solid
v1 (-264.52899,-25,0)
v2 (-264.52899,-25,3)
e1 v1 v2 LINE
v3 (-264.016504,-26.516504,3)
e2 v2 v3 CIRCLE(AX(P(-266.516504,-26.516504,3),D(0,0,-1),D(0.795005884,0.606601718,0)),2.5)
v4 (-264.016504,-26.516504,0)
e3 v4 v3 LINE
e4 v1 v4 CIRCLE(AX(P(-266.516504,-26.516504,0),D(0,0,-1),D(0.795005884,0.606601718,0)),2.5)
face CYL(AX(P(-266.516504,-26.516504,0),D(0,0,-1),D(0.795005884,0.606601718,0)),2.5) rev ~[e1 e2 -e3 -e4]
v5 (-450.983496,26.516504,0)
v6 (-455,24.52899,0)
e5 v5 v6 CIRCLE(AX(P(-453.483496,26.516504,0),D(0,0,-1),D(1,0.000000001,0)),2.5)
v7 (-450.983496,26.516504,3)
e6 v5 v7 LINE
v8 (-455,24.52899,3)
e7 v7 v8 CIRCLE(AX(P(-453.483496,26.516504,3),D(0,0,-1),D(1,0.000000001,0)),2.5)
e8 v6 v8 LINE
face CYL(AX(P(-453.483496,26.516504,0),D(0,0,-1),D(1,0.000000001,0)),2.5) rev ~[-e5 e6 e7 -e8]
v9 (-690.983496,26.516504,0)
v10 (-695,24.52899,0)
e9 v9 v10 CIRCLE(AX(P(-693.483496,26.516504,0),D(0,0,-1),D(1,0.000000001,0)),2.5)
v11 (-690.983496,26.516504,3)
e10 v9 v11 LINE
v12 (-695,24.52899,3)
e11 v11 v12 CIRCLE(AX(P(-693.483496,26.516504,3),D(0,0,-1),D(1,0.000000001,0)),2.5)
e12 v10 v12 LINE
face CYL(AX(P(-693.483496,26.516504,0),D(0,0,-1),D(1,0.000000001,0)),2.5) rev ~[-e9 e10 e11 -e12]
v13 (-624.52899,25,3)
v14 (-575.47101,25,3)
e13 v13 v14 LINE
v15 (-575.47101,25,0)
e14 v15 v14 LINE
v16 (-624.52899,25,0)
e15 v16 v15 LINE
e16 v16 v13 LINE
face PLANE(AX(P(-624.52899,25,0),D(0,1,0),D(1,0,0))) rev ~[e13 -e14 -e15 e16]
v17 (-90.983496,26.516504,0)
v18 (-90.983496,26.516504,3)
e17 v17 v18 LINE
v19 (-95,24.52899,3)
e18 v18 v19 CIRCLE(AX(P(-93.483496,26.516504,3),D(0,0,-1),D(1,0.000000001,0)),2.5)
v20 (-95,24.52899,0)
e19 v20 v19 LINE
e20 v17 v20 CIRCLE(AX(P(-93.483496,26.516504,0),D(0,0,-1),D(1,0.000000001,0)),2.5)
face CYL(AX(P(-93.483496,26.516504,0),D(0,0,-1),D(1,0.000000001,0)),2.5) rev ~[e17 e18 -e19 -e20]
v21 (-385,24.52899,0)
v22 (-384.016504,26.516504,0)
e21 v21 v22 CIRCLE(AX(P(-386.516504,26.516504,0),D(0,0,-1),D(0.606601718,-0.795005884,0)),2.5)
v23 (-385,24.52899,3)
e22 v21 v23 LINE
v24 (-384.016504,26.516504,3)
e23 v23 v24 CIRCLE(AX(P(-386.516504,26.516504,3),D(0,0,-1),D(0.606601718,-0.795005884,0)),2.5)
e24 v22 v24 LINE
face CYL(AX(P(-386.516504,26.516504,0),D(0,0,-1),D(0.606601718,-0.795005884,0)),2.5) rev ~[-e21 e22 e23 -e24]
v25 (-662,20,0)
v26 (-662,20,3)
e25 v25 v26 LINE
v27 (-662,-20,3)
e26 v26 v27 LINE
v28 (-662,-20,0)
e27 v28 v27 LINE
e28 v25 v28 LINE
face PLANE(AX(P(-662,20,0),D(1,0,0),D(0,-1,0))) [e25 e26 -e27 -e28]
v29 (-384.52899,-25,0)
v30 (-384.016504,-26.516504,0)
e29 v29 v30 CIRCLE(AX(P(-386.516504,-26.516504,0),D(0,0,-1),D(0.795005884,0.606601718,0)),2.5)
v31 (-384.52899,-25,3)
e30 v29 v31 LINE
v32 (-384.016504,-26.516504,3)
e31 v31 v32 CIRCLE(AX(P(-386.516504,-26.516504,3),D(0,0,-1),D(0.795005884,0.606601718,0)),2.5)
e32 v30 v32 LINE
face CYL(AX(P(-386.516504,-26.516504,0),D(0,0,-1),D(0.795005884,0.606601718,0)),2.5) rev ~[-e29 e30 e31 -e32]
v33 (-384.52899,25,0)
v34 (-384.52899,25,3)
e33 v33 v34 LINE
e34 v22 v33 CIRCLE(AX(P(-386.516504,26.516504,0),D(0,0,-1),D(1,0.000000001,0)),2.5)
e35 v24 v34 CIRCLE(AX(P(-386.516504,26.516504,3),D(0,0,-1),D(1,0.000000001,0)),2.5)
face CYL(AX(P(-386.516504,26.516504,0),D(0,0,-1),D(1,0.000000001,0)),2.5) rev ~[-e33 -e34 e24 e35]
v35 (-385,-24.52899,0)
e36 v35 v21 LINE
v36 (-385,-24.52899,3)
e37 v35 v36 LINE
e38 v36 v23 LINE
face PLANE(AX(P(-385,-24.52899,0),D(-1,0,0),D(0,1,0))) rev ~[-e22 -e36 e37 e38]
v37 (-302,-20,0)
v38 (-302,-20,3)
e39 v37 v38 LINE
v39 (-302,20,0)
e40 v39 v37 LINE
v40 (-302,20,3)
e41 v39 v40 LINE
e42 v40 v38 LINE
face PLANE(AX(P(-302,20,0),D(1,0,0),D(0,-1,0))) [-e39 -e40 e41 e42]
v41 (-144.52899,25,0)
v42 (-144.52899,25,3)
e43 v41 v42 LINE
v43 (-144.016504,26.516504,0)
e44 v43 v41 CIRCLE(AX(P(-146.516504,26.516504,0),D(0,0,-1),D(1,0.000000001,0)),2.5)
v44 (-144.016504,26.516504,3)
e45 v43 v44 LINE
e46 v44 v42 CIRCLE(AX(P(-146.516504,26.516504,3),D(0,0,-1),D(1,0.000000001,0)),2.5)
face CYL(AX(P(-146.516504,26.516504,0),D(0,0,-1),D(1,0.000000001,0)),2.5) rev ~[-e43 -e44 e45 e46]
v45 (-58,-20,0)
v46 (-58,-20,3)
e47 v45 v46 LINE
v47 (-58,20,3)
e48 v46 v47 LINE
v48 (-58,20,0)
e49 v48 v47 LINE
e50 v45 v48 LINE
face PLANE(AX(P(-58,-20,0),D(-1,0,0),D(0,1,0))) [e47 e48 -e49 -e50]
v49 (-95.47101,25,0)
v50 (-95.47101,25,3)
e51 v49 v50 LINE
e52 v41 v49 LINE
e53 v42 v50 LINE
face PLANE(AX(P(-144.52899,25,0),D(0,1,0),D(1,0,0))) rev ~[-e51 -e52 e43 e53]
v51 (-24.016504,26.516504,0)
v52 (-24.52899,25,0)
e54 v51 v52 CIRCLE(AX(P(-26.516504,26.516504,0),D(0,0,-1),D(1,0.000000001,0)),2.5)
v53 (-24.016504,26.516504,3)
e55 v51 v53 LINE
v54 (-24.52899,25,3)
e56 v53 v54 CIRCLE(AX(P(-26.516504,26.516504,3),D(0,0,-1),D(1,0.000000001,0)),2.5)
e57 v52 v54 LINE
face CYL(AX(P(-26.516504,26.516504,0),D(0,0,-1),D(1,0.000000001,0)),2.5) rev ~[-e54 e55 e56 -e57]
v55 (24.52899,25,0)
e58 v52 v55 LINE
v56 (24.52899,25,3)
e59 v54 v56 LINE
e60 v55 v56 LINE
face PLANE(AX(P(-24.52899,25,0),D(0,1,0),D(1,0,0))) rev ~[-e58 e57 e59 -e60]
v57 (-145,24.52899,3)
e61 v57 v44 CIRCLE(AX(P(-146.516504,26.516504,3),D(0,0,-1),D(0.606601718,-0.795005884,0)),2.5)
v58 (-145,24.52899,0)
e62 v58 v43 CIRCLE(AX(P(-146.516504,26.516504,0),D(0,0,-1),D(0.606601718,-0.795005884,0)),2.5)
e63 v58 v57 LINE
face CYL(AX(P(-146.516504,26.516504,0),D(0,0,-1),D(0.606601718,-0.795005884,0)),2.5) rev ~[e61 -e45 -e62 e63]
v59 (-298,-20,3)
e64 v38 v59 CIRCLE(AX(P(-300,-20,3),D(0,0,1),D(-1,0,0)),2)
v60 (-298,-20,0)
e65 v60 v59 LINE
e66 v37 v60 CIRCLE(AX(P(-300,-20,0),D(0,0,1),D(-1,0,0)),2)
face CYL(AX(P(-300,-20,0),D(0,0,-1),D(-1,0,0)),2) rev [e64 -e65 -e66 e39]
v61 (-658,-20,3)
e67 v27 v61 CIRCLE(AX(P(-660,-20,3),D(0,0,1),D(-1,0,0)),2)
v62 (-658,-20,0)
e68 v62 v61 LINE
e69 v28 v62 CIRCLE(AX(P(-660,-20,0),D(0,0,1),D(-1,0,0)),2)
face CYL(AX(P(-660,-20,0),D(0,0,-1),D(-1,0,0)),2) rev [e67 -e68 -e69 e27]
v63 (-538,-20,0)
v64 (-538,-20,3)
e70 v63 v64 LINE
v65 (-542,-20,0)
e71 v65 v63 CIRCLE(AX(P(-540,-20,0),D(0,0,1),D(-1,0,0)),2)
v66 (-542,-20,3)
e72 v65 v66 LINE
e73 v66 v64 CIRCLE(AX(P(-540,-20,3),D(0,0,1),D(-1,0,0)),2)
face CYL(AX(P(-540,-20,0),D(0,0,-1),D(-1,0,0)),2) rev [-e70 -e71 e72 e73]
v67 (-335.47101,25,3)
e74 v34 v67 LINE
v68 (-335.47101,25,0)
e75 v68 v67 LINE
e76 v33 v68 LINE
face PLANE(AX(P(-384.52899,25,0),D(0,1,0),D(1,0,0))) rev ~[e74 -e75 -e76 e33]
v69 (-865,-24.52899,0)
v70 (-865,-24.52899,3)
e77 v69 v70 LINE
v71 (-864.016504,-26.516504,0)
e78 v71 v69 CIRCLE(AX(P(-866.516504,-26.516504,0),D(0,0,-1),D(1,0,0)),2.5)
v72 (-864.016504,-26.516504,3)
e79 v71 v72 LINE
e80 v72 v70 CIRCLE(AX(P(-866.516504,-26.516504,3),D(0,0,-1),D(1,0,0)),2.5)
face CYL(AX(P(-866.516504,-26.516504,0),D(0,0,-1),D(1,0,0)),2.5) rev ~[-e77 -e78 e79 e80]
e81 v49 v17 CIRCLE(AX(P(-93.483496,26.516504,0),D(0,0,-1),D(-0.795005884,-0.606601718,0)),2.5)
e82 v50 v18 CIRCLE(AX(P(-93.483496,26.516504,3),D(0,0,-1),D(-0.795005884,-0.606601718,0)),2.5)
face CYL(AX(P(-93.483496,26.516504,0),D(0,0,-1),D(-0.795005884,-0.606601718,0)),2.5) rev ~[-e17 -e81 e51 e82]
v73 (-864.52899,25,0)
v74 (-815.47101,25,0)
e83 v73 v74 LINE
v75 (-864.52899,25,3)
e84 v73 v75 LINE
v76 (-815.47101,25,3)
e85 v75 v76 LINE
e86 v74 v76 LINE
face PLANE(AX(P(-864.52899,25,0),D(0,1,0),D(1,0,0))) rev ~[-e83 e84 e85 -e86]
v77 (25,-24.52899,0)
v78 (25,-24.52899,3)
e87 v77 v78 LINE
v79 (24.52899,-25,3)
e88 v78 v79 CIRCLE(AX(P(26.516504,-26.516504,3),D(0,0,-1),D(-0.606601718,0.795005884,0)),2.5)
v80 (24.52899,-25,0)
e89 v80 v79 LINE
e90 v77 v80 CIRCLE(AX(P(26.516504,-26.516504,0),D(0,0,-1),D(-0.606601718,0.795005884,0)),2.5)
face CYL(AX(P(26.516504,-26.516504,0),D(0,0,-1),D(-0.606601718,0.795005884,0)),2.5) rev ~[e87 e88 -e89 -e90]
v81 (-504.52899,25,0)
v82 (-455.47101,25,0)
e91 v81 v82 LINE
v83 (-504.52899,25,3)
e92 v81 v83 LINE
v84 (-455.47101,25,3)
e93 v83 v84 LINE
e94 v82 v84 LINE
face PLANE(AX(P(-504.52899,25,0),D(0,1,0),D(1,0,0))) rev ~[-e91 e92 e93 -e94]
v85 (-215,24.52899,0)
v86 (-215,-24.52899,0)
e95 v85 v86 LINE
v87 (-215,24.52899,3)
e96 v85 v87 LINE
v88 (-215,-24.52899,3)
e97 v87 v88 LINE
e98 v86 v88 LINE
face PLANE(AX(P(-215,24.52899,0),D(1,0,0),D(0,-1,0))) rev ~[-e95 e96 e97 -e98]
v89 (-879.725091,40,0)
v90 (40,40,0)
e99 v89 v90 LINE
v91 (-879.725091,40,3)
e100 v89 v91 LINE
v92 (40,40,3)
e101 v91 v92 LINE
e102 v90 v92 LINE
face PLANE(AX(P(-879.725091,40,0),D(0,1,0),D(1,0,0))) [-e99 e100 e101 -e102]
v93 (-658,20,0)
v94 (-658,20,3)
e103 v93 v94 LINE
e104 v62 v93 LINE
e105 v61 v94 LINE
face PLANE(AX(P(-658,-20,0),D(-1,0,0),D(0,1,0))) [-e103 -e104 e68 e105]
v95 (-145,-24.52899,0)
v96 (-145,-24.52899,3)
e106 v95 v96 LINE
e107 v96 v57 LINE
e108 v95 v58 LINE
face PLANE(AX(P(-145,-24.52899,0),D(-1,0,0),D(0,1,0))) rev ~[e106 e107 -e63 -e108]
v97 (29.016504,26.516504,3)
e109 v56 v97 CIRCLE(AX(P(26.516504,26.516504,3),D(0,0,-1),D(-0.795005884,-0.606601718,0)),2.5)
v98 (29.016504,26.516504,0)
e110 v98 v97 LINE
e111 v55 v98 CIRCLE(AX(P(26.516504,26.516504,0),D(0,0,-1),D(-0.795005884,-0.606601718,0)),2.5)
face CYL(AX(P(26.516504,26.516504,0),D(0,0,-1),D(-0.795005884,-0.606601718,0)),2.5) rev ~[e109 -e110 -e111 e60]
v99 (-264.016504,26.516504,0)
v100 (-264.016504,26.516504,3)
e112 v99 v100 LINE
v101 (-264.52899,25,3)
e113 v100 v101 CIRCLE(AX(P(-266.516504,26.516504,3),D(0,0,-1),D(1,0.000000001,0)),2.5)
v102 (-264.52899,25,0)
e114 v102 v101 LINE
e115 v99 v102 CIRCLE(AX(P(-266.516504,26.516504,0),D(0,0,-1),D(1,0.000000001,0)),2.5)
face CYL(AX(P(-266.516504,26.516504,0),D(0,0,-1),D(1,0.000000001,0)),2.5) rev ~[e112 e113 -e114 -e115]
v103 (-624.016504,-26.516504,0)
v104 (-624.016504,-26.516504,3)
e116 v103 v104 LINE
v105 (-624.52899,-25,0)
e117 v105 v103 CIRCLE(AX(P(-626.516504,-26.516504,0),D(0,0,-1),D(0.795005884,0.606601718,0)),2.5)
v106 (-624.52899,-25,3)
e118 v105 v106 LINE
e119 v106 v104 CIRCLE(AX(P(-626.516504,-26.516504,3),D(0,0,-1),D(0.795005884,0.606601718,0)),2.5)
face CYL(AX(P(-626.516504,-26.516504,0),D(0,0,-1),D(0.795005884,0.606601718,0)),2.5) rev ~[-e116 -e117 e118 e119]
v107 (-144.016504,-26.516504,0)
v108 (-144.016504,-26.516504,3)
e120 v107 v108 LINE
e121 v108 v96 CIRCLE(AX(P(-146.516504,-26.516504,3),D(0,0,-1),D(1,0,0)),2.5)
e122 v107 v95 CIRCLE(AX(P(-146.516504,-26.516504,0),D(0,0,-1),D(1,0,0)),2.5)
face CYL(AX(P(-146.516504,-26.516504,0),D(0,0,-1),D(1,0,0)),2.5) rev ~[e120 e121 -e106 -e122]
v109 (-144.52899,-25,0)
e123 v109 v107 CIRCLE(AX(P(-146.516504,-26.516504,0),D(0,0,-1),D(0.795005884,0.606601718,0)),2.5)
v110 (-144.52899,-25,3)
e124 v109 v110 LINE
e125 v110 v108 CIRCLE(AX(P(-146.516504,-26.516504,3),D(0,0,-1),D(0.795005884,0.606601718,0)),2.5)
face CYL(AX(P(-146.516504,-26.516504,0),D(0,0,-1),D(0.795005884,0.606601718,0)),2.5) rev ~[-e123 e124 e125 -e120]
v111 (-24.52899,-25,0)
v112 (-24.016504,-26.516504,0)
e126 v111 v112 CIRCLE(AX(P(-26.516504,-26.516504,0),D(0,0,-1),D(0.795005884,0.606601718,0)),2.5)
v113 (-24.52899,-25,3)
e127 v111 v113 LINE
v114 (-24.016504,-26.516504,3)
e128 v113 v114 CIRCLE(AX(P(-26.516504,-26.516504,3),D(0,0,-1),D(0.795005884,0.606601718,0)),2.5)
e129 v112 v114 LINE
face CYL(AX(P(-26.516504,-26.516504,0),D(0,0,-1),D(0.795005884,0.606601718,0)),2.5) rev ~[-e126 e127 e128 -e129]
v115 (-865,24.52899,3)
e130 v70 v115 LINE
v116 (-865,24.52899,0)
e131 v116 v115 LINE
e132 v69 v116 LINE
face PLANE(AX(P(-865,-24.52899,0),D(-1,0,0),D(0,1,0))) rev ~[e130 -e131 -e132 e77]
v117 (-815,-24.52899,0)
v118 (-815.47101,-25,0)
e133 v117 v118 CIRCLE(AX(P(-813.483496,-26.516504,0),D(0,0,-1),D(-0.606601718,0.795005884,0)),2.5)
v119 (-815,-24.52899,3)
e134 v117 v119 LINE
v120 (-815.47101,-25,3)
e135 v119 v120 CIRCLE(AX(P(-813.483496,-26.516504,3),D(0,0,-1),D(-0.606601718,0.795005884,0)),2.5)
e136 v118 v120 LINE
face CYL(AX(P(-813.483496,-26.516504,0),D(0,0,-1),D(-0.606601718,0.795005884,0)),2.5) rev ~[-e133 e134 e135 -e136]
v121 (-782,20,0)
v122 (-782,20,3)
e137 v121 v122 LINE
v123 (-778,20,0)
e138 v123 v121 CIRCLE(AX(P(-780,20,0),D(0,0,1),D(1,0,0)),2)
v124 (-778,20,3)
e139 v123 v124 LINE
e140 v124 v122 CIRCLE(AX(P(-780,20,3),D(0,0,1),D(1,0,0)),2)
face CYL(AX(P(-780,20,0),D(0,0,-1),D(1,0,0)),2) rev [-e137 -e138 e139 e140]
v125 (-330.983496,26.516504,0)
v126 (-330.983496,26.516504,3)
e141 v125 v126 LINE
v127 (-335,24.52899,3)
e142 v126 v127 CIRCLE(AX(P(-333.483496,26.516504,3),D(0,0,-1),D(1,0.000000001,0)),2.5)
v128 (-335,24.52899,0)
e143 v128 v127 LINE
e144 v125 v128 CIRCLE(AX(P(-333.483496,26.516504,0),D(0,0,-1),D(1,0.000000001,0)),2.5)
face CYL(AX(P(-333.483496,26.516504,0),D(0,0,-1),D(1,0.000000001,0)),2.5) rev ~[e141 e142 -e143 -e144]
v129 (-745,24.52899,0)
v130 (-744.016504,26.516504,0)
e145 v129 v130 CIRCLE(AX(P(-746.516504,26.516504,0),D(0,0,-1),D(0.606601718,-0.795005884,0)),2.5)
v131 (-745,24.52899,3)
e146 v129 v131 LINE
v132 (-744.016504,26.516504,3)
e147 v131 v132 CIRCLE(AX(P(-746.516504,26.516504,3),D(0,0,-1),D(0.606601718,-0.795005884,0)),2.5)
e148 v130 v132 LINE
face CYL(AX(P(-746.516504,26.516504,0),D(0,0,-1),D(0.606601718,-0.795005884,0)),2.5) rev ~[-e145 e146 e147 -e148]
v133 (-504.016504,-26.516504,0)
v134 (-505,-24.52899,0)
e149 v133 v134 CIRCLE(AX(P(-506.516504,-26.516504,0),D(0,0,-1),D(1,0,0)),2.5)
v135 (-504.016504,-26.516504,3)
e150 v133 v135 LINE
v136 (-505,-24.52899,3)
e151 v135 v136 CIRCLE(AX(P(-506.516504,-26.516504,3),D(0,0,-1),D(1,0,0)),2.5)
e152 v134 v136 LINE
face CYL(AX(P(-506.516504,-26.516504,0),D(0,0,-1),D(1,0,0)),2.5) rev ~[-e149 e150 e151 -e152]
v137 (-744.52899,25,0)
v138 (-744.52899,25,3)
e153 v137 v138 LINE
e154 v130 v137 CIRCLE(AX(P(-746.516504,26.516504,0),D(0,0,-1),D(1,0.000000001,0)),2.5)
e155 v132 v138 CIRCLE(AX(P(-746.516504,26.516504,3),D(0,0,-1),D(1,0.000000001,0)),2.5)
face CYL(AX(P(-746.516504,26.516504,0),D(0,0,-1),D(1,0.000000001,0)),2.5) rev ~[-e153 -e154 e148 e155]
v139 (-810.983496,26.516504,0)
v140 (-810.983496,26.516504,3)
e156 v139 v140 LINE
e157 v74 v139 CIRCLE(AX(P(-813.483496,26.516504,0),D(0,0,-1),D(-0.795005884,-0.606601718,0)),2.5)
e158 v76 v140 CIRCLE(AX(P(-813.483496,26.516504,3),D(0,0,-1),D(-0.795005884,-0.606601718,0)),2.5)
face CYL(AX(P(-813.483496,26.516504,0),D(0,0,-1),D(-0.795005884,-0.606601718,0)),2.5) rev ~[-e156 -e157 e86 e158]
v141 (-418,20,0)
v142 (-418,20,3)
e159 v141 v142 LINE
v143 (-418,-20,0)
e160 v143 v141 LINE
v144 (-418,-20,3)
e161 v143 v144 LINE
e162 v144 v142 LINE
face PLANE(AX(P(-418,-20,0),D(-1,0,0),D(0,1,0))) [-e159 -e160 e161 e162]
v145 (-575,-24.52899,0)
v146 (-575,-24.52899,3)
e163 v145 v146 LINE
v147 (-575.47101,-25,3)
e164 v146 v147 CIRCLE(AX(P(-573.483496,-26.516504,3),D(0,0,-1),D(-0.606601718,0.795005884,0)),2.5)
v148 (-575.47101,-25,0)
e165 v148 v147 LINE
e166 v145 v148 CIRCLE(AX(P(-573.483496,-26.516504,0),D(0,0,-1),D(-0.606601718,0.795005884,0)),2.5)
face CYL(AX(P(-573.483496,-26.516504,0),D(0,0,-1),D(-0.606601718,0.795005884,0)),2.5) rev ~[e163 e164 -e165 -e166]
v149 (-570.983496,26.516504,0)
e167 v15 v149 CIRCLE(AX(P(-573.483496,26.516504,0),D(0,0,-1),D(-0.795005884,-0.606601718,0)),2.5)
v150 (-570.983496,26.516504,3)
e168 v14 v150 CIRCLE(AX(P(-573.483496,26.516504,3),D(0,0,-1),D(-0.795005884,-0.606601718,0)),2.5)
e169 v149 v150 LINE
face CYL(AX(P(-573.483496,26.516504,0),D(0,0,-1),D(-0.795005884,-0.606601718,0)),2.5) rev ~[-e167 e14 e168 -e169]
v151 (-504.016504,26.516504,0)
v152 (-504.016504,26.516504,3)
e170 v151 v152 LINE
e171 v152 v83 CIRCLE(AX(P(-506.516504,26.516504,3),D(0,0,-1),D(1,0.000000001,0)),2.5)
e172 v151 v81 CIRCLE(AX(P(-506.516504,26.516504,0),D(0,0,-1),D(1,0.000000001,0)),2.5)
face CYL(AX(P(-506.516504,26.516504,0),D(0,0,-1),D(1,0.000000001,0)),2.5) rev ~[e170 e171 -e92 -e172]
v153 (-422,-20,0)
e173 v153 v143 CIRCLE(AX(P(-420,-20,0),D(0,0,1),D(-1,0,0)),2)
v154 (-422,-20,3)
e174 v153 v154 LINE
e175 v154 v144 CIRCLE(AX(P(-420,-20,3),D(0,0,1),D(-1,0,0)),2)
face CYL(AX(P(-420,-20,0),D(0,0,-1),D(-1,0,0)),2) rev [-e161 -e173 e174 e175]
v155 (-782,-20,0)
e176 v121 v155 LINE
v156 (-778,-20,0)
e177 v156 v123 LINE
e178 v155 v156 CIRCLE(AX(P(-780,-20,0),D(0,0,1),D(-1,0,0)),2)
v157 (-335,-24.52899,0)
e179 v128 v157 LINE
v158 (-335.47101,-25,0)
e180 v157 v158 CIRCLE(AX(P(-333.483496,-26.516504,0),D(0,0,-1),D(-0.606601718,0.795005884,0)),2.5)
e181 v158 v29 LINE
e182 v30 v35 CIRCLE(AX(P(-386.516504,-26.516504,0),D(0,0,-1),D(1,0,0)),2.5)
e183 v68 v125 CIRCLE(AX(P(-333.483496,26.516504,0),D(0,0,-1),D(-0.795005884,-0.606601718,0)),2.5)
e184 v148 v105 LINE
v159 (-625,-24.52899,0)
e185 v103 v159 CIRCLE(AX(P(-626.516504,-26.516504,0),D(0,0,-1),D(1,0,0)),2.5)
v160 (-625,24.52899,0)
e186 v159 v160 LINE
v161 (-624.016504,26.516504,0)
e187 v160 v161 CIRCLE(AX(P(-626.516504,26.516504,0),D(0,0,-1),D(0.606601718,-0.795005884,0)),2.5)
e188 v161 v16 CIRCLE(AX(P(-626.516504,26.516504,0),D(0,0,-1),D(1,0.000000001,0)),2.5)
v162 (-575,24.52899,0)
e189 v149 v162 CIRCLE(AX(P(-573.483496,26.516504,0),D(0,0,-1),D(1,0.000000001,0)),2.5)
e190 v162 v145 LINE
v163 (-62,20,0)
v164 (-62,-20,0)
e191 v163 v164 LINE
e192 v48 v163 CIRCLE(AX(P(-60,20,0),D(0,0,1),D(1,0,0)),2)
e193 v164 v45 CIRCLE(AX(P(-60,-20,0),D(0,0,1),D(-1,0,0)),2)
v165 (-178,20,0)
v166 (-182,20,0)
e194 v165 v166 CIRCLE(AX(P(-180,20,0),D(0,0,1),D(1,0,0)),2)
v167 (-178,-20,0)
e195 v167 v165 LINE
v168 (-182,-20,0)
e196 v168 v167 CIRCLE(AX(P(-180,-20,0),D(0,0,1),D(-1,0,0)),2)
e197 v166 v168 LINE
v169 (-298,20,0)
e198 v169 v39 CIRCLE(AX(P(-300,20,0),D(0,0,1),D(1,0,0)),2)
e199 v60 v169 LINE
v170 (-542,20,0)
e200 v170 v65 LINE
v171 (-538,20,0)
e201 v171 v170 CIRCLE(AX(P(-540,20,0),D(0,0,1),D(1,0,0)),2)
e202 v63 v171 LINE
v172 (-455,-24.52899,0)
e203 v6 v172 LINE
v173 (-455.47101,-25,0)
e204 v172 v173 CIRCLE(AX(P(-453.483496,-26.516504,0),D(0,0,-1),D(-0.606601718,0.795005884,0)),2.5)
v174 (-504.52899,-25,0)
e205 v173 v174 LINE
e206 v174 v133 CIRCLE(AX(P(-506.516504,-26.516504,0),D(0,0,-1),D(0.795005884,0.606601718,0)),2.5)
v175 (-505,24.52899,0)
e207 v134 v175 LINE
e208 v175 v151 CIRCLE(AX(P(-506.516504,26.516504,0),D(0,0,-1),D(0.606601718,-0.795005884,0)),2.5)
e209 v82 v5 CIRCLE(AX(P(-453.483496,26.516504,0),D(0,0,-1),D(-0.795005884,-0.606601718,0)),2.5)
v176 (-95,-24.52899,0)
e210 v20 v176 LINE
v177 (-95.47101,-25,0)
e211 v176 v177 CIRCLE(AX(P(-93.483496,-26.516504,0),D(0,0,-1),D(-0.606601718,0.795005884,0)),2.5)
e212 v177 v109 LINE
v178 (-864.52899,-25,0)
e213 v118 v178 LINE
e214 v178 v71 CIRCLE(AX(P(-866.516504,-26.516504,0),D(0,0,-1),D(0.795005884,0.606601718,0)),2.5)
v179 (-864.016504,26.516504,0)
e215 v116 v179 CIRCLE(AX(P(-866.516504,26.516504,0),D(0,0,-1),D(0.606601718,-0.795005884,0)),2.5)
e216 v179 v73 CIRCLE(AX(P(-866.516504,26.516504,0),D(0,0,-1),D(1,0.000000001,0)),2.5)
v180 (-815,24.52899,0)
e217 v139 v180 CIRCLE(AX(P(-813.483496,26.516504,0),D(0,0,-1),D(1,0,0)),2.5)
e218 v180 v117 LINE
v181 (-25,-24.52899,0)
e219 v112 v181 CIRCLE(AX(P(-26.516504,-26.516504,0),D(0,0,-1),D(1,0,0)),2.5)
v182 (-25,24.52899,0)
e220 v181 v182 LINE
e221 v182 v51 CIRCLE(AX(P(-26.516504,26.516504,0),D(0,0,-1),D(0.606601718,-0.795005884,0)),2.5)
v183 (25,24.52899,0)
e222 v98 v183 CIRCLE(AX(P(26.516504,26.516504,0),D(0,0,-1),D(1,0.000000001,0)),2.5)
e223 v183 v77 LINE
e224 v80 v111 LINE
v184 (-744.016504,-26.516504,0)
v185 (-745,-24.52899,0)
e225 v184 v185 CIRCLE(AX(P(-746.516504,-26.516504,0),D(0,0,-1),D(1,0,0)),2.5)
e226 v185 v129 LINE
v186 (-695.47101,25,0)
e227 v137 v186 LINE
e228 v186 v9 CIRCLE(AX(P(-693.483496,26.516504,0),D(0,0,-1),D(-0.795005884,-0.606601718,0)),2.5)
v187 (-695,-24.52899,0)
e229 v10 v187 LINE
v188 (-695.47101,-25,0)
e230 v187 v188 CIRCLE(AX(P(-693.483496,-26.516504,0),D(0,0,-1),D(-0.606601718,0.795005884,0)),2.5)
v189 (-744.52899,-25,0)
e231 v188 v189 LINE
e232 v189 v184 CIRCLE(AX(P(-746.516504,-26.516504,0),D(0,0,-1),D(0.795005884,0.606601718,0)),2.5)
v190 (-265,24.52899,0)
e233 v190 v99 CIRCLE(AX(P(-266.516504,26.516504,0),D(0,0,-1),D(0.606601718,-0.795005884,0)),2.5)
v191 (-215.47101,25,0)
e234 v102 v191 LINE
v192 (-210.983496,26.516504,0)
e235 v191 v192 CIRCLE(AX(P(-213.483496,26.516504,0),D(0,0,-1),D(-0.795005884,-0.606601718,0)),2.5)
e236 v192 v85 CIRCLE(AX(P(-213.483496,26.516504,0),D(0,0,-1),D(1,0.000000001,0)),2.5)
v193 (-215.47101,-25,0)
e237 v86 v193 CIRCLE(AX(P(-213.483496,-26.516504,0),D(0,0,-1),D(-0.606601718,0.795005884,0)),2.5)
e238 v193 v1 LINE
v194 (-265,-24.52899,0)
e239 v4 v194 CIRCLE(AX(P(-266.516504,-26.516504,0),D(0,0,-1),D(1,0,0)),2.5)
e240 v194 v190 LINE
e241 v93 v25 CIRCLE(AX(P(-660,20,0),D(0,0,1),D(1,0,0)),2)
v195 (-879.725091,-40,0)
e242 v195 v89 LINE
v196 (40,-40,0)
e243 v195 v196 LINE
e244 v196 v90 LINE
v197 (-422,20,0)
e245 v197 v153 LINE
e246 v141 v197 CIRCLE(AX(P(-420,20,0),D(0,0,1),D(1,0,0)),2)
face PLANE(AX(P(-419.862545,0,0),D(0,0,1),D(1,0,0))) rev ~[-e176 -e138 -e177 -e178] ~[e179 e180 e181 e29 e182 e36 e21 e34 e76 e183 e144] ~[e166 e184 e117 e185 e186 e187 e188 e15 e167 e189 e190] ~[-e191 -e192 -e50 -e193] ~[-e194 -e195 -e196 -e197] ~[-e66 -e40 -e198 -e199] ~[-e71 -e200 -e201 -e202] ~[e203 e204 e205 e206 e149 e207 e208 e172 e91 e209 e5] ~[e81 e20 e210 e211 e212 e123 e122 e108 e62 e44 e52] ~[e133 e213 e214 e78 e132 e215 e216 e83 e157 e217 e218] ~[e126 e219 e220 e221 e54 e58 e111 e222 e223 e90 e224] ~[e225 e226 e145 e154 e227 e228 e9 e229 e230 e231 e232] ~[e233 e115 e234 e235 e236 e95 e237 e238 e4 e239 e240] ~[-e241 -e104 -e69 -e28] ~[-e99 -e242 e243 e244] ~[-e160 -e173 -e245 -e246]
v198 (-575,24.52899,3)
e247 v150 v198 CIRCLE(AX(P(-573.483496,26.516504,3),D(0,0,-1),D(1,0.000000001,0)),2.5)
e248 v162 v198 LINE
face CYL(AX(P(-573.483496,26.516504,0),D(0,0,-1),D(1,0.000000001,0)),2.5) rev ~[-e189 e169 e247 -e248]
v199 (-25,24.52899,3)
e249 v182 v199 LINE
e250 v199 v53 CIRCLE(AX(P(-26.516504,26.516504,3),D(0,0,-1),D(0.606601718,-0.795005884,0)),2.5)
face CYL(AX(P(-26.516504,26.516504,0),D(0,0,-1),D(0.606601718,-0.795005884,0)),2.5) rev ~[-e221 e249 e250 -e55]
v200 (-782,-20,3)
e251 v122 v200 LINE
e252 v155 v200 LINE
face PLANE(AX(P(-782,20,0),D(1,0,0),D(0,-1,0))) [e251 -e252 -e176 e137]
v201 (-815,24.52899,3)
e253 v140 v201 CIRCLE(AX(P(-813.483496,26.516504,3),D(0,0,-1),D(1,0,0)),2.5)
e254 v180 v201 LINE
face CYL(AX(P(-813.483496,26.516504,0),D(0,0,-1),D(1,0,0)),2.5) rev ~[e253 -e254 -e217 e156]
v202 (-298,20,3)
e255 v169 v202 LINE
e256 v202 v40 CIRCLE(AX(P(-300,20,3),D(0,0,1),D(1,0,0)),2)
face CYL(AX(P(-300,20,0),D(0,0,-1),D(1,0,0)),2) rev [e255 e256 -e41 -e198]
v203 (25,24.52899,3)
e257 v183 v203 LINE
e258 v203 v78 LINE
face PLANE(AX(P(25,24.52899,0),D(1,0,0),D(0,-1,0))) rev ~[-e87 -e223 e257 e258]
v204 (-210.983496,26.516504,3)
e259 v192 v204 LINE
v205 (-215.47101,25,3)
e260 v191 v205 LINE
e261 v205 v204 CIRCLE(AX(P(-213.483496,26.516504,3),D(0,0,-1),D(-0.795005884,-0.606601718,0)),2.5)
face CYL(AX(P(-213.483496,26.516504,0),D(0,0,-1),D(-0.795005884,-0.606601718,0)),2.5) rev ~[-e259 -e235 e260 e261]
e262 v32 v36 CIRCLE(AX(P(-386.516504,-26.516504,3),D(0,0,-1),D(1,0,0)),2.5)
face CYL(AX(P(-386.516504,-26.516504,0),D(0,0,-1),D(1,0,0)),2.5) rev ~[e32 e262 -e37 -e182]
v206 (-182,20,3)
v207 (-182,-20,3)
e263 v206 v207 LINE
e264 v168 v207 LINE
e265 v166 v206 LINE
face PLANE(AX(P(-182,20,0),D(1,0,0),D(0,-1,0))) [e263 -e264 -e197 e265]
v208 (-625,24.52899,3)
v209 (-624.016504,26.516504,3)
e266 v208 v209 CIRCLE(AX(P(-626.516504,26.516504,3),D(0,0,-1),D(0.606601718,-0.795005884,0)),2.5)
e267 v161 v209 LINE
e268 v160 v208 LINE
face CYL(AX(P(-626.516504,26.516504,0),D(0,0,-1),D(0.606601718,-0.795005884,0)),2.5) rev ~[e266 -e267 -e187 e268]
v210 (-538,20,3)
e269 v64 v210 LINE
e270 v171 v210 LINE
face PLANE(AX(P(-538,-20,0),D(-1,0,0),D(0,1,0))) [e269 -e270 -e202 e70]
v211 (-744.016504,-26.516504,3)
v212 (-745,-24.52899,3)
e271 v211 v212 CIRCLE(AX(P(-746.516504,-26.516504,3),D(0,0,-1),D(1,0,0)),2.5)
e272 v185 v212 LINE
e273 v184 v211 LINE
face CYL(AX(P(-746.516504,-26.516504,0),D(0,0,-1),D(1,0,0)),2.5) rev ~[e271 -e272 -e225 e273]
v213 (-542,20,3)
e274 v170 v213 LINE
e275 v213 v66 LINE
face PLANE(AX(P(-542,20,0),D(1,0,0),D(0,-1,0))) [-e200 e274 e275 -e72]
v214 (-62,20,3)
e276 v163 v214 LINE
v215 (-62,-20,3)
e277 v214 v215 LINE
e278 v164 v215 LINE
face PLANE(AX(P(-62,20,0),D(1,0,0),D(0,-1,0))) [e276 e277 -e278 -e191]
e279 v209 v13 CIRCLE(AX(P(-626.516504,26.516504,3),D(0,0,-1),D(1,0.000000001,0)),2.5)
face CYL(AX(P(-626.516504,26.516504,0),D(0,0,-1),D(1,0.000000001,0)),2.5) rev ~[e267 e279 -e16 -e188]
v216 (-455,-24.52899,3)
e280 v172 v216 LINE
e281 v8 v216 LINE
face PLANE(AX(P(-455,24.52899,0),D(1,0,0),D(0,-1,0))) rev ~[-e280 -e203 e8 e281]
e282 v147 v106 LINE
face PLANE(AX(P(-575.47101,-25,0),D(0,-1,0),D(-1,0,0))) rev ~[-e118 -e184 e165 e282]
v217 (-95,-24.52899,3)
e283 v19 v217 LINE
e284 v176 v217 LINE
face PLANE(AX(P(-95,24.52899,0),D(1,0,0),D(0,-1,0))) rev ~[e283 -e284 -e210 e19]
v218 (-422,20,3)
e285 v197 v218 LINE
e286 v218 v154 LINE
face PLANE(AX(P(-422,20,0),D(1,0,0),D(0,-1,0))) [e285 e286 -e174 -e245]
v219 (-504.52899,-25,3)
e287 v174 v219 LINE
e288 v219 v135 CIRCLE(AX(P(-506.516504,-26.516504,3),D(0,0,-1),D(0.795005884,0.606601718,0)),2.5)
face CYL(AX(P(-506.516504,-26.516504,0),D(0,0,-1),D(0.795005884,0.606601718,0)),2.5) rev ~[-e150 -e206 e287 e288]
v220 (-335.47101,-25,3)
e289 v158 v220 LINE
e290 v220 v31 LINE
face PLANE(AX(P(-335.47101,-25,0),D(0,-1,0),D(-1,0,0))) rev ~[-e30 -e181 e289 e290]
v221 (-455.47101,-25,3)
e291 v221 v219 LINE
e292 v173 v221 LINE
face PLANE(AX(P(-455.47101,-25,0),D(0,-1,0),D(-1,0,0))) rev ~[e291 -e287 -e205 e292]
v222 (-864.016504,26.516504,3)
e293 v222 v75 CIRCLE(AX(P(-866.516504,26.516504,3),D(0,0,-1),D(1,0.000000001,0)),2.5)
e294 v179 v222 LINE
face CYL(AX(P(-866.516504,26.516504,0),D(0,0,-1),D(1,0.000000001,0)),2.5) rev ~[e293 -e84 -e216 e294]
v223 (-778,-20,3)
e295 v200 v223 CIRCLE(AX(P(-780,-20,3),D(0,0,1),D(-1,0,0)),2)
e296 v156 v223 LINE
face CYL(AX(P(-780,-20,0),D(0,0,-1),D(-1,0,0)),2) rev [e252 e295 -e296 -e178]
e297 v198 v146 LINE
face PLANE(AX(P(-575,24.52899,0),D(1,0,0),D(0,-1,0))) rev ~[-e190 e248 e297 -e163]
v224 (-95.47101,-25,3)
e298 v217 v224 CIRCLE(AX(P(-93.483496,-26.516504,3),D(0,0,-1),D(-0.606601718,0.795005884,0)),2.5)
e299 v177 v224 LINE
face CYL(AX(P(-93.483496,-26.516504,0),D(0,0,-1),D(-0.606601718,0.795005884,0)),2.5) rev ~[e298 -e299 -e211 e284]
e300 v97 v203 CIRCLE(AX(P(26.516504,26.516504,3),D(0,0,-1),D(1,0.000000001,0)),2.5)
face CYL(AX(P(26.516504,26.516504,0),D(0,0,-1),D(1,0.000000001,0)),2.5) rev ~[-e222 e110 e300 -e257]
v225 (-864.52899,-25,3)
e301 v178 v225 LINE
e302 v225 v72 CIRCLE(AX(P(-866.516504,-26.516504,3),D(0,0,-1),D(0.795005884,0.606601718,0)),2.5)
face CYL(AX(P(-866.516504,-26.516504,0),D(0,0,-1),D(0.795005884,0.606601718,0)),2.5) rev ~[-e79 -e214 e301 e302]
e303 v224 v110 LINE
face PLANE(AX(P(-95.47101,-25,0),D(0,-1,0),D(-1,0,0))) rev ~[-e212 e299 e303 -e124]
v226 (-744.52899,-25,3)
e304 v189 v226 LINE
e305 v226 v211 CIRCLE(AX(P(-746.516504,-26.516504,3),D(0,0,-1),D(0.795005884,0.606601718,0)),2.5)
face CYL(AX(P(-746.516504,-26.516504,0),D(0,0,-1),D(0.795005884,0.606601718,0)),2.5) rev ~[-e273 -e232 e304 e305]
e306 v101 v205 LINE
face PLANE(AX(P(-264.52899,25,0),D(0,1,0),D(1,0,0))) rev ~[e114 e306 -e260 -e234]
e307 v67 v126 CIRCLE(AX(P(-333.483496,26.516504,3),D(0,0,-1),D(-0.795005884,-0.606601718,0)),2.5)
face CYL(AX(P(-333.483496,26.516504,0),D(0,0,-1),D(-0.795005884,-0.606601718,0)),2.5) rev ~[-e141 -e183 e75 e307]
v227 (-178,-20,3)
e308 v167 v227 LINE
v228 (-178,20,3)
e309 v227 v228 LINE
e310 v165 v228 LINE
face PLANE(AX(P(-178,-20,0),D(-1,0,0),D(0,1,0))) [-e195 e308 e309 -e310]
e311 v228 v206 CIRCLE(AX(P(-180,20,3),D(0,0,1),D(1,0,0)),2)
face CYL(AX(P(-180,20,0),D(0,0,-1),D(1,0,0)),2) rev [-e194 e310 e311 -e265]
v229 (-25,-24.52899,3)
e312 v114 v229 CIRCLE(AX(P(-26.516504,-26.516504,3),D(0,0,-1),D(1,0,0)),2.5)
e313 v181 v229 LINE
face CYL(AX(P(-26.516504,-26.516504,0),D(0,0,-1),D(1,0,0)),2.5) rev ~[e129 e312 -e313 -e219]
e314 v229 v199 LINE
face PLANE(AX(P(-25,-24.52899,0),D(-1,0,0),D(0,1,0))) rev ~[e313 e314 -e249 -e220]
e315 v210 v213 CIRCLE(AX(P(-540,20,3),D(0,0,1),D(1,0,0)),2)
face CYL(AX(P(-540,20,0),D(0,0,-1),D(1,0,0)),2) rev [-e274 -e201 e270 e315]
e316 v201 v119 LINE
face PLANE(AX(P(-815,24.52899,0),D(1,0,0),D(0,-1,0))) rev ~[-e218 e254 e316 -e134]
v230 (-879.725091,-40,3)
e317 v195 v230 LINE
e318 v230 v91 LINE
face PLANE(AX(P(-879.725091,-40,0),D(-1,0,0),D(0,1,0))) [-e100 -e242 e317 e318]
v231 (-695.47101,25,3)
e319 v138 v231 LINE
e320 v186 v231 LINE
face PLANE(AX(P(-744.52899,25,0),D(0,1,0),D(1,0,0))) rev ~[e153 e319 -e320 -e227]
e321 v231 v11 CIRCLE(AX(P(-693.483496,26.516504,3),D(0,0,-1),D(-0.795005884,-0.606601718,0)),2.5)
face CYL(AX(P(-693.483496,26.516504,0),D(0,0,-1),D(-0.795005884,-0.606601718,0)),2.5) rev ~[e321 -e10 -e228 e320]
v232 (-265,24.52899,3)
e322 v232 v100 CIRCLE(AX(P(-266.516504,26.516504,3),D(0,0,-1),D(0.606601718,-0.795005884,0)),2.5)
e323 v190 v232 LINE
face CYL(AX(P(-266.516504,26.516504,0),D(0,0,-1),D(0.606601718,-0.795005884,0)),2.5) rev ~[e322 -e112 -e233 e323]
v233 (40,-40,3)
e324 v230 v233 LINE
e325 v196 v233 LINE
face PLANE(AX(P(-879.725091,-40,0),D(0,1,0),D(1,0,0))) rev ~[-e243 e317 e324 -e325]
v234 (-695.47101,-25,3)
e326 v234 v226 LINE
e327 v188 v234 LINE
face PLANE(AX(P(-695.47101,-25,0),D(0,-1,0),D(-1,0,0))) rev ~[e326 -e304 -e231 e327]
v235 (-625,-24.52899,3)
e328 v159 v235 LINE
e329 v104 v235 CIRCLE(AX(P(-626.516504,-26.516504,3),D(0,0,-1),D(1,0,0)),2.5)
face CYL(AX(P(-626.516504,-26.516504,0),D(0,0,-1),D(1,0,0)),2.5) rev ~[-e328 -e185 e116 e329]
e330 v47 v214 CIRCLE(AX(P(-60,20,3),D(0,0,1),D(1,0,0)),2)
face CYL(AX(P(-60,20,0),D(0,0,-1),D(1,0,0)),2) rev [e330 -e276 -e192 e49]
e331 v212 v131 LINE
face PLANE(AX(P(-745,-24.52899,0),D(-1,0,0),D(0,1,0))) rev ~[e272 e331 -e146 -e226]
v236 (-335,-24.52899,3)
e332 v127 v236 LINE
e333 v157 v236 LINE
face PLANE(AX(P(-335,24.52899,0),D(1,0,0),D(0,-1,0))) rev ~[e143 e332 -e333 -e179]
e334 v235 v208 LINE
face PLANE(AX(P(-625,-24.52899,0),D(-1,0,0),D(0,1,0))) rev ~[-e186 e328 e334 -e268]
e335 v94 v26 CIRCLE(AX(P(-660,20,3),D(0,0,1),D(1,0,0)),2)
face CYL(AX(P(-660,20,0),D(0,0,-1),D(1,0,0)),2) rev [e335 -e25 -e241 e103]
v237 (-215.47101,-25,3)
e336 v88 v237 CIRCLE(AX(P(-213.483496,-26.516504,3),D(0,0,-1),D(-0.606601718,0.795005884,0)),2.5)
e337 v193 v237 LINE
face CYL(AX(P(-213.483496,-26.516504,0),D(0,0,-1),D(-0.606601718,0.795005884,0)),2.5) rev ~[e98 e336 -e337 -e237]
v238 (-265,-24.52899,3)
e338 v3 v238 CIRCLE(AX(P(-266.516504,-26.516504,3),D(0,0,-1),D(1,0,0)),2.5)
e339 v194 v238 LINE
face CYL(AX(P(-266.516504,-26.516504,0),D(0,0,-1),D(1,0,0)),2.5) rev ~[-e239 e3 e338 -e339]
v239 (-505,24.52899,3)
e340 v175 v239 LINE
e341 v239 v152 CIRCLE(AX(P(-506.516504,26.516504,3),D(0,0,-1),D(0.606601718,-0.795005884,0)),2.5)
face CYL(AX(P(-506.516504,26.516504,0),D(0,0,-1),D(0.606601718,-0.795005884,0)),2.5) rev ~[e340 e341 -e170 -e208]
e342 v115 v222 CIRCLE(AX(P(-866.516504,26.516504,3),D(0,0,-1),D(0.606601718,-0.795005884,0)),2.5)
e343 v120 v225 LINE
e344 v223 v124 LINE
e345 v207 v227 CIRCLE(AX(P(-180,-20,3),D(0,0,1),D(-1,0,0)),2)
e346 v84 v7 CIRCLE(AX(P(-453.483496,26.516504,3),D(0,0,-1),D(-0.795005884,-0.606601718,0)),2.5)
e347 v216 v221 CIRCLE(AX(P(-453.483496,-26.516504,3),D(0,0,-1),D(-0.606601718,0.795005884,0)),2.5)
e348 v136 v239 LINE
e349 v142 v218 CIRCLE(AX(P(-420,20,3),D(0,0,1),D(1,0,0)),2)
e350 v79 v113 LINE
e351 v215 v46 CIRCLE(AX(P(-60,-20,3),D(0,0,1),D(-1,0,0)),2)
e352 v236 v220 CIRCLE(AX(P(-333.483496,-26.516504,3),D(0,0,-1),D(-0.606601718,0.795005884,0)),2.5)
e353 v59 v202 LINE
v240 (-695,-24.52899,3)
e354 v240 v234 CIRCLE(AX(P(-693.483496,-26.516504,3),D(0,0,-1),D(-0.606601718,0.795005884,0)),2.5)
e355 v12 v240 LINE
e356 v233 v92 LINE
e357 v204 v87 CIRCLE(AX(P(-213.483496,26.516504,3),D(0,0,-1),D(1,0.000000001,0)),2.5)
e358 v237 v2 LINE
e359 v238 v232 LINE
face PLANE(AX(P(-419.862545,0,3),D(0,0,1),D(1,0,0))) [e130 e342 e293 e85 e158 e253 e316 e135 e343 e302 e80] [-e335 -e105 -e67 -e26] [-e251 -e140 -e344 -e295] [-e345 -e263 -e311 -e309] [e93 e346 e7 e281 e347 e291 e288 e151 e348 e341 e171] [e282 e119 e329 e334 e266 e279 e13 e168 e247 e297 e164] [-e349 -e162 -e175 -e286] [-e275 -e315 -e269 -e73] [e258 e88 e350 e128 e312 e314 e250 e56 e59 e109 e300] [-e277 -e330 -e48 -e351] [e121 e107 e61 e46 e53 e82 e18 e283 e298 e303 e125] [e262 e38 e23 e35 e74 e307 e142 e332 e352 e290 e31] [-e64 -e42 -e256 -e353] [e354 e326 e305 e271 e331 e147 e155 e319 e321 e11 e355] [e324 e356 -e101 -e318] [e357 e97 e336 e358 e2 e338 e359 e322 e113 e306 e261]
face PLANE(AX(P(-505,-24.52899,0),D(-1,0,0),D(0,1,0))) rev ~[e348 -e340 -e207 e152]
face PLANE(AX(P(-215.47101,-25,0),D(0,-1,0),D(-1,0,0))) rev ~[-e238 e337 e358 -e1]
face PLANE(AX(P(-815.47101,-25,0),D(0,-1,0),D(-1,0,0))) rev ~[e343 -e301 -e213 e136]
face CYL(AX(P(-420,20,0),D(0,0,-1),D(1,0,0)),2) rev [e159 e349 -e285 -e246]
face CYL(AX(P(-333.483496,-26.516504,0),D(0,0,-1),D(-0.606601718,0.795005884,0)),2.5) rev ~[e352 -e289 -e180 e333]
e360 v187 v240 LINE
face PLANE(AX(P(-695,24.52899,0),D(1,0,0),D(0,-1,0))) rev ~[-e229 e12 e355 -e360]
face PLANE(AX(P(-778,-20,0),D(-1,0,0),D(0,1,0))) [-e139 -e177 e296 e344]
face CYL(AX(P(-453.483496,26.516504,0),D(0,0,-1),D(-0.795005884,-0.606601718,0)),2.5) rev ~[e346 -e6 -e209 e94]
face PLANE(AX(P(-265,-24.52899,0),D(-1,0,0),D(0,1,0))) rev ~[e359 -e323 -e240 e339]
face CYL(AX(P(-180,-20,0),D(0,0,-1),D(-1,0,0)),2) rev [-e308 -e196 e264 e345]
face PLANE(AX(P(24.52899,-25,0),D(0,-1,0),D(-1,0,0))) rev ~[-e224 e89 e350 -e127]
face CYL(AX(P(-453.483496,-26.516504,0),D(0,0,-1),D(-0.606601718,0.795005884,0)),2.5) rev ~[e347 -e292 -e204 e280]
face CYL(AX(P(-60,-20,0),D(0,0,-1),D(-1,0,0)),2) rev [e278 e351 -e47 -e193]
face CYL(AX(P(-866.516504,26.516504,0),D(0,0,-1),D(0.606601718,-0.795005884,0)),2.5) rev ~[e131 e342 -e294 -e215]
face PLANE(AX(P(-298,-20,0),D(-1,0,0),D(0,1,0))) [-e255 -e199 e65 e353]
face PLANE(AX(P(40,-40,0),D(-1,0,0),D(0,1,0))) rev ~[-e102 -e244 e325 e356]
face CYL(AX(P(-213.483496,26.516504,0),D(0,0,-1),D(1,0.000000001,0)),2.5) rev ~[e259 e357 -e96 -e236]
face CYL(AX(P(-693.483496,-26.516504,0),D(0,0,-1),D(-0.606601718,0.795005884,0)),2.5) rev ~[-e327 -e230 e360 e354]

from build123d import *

# Parameters (mm, degrees)
SKETCH_1_W          = 919.725090766
SKETCH_1_H          = 80
EXTRUDE_1_DEPTH     = 3
CUT_EXTRUDE_1_DEPTH = 3


with BuildPart() as part:
    # Эскиз1 → Бобышка-Вытянуть1 (new body)
    with BuildSketch(Plane.XY):
        with Locations((-419.862545383, 0)):
            Rectangle(SKETCH_1_W, SKETCH_1_H)
        with BuildLine():
            Line((-815.471010416, -25), (-864.528989584, -25))
            ThreePointArc((-864.528989584, -25), (-864.148088497, -25.716125252), (-864.016504294, -26.516504295))
            ThreePointArc((-864.016504294, -26.516504295), (-868.757180614, -27.625273717), (-865, -24.528989584))
            Line((-865, -24.528989584), (-865, 24.528989584))
            ThreePointArc((-865, 24.528989584), (-868.757180614, 27.625273717), (-864.016504295, 26.516504294))
            ThreePointArc((-864.016504295, 26.516504294), (-864.148088497, 25.716125252), (-864.528989584, 25))
            Line((-864.528989584, 25), (-815.471010416, 25))
            ThreePointArc((-815.471010416, 25), (-814.283874748, 28.884920092), (-810.983495706, 26.516504294))
            ThreePointArc((-810.983495706, 26.516504294), (-812.374726283, 24.275827975), (-815, 24.528989584))
            Line((-815, 24.528989584), (-815, -24.528989584))
            ThreePointArc((-815, -24.528989584), (-812.374726283, -24.275827975), (-810.983495705, -26.516504294))
            ThreePointArc((-810.983495705, -26.516504294), (-814.283874748, -28.884920092), (-815.471010416, -25))
        make_face(mode=Mode.SUBTRACT)
        with BuildLine():
            Line((-695.471010416, -25), (-744.528989584, -25))
            ThreePointArc((-744.528989584, -25), (-744.148088497, -25.716125252), (-744.016504294, -26.516504295))
            ThreePointArc((-744.016504294, -26.516504295), (-748.757180614, -27.625273717), (-745, -24.528989584))
            Line((-745, -24.528989584), (-745, 24.528989584))
            ThreePointArc((-745, 24.528989584), (-748.757180614, 27.625273717), (-744.016504295, 26.516504294))
            ThreePointArc((-744.016504295, 26.516504294), (-744.148088497, 25.716125252), (-744.528989584, 25))
            Line((-744.528989584, 25), (-695.471010416, 25))
            ThreePointArc((-695.471010416, 25), (-694.283874748, 28.884920092), (-690.983495706, 26.516504295))
            ThreePointArc((-690.983495706, 26.516504295), (-692.374726283, 24.275827975), (-695, 24.528989584))
            Line((-695, 24.528989584), (-695, -24.528989584))
            ThreePointArc((-695, -24.528989584), (-692.374726283, -24.275827975), (-690.983495705, -26.516504294))
            ThreePointArc((-690.983495705, -26.516504294), (-694.283874748, -28.884920092), (-695.471010416, -25))
        make_face(mode=Mode.SUBTRACT)
        with BuildLine():
            Line((-575.471010416, -25), (-624.528989584, -25))
            ThreePointArc((-624.528989584, -25), (-624.148088497, -25.716125252), (-624.016504294, -26.516504295))
            ThreePointArc((-624.016504294, -26.516504295), (-628.757180614, -27.625273717), (-625, -24.528989584))
            Line((-625, -24.528989584), (-625, 24.528989584))
            ThreePointArc((-625, 24.528989584), (-628.757180614, 27.625273717), (-624.016504295, 26.516504294))
            ThreePointArc((-624.016504295, 26.516504294), (-624.148088497, 25.716125252), (-624.528989584, 25))
            Line((-624.528989584, 25), (-575.471010416, 25))
            ThreePointArc((-575.471010416, 25), (-574.283874748, 28.884920092), (-570.983495706, 26.516504295))
            ThreePointArc((-570.983495706, 26.516504295), (-572.374726283, 24.275827975), (-575, 24.528989584))
            Line((-575, 24.528989584), (-575, -24.528989584))
            ThreePointArc((-575, -24.528989584), (-572.374726283, -24.275827975), (-570.983495705, -26.516504294))
            ThreePointArc((-570.983495705, -26.516504294), (-574.283874748, -28.884920092), (-575.471010416, -25))
        make_face(mode=Mode.SUBTRACT)
        with BuildLine():
            Line((-455.471010416, -25), (-504.528989584, -25))
            ThreePointArc((-504.528989584, -25), (-504.148088497, -25.716125252), (-504.016504294, -26.516504295))
            ThreePointArc((-504.016504294, -26.516504295), (-508.757180614, -27.625273717), (-505, -24.528989584))
            Line((-505, -24.528989584), (-505, 24.528989584))
            ThreePointArc((-505, 24.528989584), (-508.757180614, 27.625273717), (-504.016504295, 26.516504294))
            ThreePointArc((-504.016504295, 26.516504294), (-504.148088497, 25.716125252), (-504.528989584, 25))
            Line((-504.528989584, 25), (-455.471010416, 25))
            ThreePointArc((-455.471010416, 25), (-454.283874748, 28.884920092), (-450.983495706, 26.516504295))
            ThreePointArc((-450.983495706, 26.516504295), (-452.374726283, 24.275827975), (-455, 24.528989584))
            Line((-455, 24.528989584), (-455, -24.528989584))
            ThreePointArc((-455, -24.528989584), (-452.374726283, -24.275827975), (-450.983495705, -26.516504294))
            ThreePointArc((-450.983495705, -26.516504294), (-454.283874748, -28.884920092), (-455.471010416, -25))
        make_face(mode=Mode.SUBTRACT)
        with BuildLine():
            Line((-335.471010416, -25), (-384.528989584, -25))
            ThreePointArc((-384.528989584, -25), (-384.148088497, -25.716125252), (-384.016504294, -26.516504295))
            ThreePointArc((-384.016504294, -26.516504295), (-388.757180614, -27.625273717), (-385, -24.528989584))
            Line((-385, -24.528989584), (-385, 24.528989584))
            ThreePointArc((-385, 24.528989584), (-388.757180614, 27.625273717), (-384.016504295, 26.516504294))
            ThreePointArc((-384.016504295, 26.516504294), (-384.148088497, 25.716125252), (-384.528989584, 25))
            Line((-384.528989584, 25), (-335.471010416, 25))
            ThreePointArc((-335.471010416, 25), (-334.283874748, 28.884920092), (-330.983495706, 26.516504295))
            ThreePointArc((-330.983495706, 26.516504295), (-332.374726283, 24.275827975), (-335, 24.528989584))
            Line((-335, 24.528989584), (-335, -24.528989584))
            ThreePointArc((-335, -24.528989584), (-332.374726283, -24.275827975), (-330.983495705, -26.516504294))
            ThreePointArc((-330.983495705, -26.516504294), (-334.283874748, -28.884920092), (-335.471010416, -25))
        make_face(mode=Mode.SUBTRACT)
        with BuildLine():
            Line((-215.471010416, -25), (-264.528989584, -25))
            ThreePointArc((-264.528989584, -25), (-264.148088497, -25.716125252), (-264.016504294, -26.516504295))
            ThreePointArc((-264.016504294, -26.516504295), (-268.757180614, -27.625273717), (-265, -24.528989584))
            Line((-265, -24.528989584), (-265, 24.528989584))
            ThreePointArc((-265, 24.528989584), (-268.757180614, 27.625273717), (-264.016504295, 26.516504294))
            ThreePointArc((-264.016504295, 26.516504294), (-264.148088497, 25.716125252), (-264.528989584, 25))
            Line((-264.528989584, 25), (-215.471010416, 25))
            ThreePointArc((-215.471010416, 25), (-214.283874748, 28.884920092), (-210.983495706, 26.516504295))
            ThreePointArc((-210.983495706, 26.516504295), (-212.374726283, 24.275827975), (-215, 24.528989584))
            Line((-215, 24.528989584), (-215, -24.528989584))
            ThreePointArc((-215, -24.528989584), (-212.374726283, -24.275827975), (-210.983495705, -26.516504294))
            ThreePointArc((-210.983495705, -26.516504294), (-214.283874748, -28.884920092), (-215.471010416, -25))
        make_face(mode=Mode.SUBTRACT)
        with BuildLine():
            Line((-95.471010416, -25), (-144.528989584, -25))
            ThreePointArc((-144.528989584, -25), (-144.148088497, -25.716125252), (-144.016504294, -26.516504295))
            ThreePointArc((-144.016504294, -26.516504295), (-148.757180614, -27.625273717), (-145, -24.528989584))
            Line((-145, -24.528989584), (-145, 24.528989584))
            ThreePointArc((-145, 24.528989584), (-148.757180614, 27.625273717), (-144.016504295, 26.516504294))
            ThreePointArc((-144.016504295, 26.516504294), (-144.148088497, 25.716125252), (-144.528989584, 25))
            Line((-144.528989584, 25), (-95.471010416, 25))
            ThreePointArc((-95.471010416, 25), (-94.283874748, 28.884920092), (-90.983495706, 26.516504295))
            ThreePointArc((-90.983495706, 26.516504295), (-92.374726283, 24.275827975), (-95, 24.528989584))
            Line((-95, 24.528989584), (-95, -24.528989584))
            ThreePointArc((-95, -24.528989584), (-92.374726283, -24.275827975), (-90.983495705, -26.516504294))
            ThreePointArc((-90.983495705, -26.516504294), (-94.283874748, -28.884920092), (-95.471010416, -25))
        make_face(mode=Mode.SUBTRACT)
        with BuildLine():
            Line((24.528989584, -25), (-24.528989584, -25))
            ThreePointArc((-24.528989584, -25), (-24.148088497, -25.716125252), (-24.016504294, -26.516504295))
            ThreePointArc((-24.016504294, -26.516504295), (-28.757180614, -27.625273717), (-25, -24.528989584))
            Line((-25, -24.528989584), (-25, 24.528989584))
            ThreePointArc((-25, 24.528989584), (-28.757180614, 27.625273717), (-24.016504295, 26.516504294))
            ThreePointArc((-24.016504295, 26.516504294), (-24.148088497, 25.716125252), (-24.528989584, 25))
            Line((-24.528989584, 25), (24.528989584, 25))
            ThreePointArc((24.528989584, 25), (25.716125252, 28.884920092), (29.016504294, 26.516504295))
            ThreePointArc((29.016504294, 26.516504295), (27.625273717, 24.275827975), (25, 24.528989584))
            Line((25, 24.528989584), (25, -24.528989584))
            ThreePointArc((25, -24.528989584), (27.625273717, -24.275827975), (29.016504295, -26.516504294))
            ThreePointArc((29.016504295, -26.516504294), (25.716125252, -28.884920092), (24.528989584, -25))
        make_face(mode=Mode.SUBTRACT)
    extrude(amount=EXTRUDE_1_DEPTH)

    # Эскиз2 → Вырез-Вытянуть1 (cut)
    with BuildSketch(Plane(origin=(0, 0, 0), x_dir=(-1, 0, 0), z_dir=(0, 0, -1))):
        with BuildLine():
            Line((62, 20), (62, -20))
            ThreePointArc((62, -20), (60, -22), (58, -20))
            Line((58, -20), (58, 20))
            ThreePointArc((58, 20), (60, 22), (62, 20))
        make_face()
        with BuildLine():
            Line((182, 20), (182, -20))
            ThreePointArc((182, -20), (180, -22), (178, -20))
            Line((178, -20), (178, 20))
            ThreePointArc((178, 20), (180, 22), (182, 20))
        make_face()
        with BuildLine():
            Line((302, 20), (302, -20))
            ThreePointArc((302, -20), (300, -22), (298, -20))
            Line((298, -20), (298, 20))
            ThreePointArc((298, 20), (300, 22), (302, 20))
        make_face()
        with BuildLine():
            Line((422, 20), (422, -20))
            ThreePointArc((422, -20), (420, -22), (418, -20))
            Line((418, -20), (418, 20))
            ThreePointArc((418, 20), (420, 22), (422, 20))
        make_face()
        with BuildLine():
            Line((542, 20), (542, -20))
            ThreePointArc((542, -20), (540, -22), (538, -20))
            Line((538, -20), (538, 20))
            ThreePointArc((538, 20), (540, 22), (542, 20))
        make_face()
        with BuildLine():
            Line((662, 20), (662, -20))
            ThreePointArc((662, -20), (660, -22), (658, -20))
            Line((658, -20), (658, 20))
            ThreePointArc((658, 20), (660, 22), (662, 20))
        make_face()
        with BuildLine():
            Line((782, 20), (782, -20))
            ThreePointArc((782, -20), (780, -22), (778, -20))
            Line((778, -20), (778, 20))
            ThreePointArc((778, 20), (780, 22), (782, 20))
        make_face()
    extrude(amount=-CUT_EXTRUDE_1_DEPTH, mode=Mode.SUBTRACT)


solid = part.part
